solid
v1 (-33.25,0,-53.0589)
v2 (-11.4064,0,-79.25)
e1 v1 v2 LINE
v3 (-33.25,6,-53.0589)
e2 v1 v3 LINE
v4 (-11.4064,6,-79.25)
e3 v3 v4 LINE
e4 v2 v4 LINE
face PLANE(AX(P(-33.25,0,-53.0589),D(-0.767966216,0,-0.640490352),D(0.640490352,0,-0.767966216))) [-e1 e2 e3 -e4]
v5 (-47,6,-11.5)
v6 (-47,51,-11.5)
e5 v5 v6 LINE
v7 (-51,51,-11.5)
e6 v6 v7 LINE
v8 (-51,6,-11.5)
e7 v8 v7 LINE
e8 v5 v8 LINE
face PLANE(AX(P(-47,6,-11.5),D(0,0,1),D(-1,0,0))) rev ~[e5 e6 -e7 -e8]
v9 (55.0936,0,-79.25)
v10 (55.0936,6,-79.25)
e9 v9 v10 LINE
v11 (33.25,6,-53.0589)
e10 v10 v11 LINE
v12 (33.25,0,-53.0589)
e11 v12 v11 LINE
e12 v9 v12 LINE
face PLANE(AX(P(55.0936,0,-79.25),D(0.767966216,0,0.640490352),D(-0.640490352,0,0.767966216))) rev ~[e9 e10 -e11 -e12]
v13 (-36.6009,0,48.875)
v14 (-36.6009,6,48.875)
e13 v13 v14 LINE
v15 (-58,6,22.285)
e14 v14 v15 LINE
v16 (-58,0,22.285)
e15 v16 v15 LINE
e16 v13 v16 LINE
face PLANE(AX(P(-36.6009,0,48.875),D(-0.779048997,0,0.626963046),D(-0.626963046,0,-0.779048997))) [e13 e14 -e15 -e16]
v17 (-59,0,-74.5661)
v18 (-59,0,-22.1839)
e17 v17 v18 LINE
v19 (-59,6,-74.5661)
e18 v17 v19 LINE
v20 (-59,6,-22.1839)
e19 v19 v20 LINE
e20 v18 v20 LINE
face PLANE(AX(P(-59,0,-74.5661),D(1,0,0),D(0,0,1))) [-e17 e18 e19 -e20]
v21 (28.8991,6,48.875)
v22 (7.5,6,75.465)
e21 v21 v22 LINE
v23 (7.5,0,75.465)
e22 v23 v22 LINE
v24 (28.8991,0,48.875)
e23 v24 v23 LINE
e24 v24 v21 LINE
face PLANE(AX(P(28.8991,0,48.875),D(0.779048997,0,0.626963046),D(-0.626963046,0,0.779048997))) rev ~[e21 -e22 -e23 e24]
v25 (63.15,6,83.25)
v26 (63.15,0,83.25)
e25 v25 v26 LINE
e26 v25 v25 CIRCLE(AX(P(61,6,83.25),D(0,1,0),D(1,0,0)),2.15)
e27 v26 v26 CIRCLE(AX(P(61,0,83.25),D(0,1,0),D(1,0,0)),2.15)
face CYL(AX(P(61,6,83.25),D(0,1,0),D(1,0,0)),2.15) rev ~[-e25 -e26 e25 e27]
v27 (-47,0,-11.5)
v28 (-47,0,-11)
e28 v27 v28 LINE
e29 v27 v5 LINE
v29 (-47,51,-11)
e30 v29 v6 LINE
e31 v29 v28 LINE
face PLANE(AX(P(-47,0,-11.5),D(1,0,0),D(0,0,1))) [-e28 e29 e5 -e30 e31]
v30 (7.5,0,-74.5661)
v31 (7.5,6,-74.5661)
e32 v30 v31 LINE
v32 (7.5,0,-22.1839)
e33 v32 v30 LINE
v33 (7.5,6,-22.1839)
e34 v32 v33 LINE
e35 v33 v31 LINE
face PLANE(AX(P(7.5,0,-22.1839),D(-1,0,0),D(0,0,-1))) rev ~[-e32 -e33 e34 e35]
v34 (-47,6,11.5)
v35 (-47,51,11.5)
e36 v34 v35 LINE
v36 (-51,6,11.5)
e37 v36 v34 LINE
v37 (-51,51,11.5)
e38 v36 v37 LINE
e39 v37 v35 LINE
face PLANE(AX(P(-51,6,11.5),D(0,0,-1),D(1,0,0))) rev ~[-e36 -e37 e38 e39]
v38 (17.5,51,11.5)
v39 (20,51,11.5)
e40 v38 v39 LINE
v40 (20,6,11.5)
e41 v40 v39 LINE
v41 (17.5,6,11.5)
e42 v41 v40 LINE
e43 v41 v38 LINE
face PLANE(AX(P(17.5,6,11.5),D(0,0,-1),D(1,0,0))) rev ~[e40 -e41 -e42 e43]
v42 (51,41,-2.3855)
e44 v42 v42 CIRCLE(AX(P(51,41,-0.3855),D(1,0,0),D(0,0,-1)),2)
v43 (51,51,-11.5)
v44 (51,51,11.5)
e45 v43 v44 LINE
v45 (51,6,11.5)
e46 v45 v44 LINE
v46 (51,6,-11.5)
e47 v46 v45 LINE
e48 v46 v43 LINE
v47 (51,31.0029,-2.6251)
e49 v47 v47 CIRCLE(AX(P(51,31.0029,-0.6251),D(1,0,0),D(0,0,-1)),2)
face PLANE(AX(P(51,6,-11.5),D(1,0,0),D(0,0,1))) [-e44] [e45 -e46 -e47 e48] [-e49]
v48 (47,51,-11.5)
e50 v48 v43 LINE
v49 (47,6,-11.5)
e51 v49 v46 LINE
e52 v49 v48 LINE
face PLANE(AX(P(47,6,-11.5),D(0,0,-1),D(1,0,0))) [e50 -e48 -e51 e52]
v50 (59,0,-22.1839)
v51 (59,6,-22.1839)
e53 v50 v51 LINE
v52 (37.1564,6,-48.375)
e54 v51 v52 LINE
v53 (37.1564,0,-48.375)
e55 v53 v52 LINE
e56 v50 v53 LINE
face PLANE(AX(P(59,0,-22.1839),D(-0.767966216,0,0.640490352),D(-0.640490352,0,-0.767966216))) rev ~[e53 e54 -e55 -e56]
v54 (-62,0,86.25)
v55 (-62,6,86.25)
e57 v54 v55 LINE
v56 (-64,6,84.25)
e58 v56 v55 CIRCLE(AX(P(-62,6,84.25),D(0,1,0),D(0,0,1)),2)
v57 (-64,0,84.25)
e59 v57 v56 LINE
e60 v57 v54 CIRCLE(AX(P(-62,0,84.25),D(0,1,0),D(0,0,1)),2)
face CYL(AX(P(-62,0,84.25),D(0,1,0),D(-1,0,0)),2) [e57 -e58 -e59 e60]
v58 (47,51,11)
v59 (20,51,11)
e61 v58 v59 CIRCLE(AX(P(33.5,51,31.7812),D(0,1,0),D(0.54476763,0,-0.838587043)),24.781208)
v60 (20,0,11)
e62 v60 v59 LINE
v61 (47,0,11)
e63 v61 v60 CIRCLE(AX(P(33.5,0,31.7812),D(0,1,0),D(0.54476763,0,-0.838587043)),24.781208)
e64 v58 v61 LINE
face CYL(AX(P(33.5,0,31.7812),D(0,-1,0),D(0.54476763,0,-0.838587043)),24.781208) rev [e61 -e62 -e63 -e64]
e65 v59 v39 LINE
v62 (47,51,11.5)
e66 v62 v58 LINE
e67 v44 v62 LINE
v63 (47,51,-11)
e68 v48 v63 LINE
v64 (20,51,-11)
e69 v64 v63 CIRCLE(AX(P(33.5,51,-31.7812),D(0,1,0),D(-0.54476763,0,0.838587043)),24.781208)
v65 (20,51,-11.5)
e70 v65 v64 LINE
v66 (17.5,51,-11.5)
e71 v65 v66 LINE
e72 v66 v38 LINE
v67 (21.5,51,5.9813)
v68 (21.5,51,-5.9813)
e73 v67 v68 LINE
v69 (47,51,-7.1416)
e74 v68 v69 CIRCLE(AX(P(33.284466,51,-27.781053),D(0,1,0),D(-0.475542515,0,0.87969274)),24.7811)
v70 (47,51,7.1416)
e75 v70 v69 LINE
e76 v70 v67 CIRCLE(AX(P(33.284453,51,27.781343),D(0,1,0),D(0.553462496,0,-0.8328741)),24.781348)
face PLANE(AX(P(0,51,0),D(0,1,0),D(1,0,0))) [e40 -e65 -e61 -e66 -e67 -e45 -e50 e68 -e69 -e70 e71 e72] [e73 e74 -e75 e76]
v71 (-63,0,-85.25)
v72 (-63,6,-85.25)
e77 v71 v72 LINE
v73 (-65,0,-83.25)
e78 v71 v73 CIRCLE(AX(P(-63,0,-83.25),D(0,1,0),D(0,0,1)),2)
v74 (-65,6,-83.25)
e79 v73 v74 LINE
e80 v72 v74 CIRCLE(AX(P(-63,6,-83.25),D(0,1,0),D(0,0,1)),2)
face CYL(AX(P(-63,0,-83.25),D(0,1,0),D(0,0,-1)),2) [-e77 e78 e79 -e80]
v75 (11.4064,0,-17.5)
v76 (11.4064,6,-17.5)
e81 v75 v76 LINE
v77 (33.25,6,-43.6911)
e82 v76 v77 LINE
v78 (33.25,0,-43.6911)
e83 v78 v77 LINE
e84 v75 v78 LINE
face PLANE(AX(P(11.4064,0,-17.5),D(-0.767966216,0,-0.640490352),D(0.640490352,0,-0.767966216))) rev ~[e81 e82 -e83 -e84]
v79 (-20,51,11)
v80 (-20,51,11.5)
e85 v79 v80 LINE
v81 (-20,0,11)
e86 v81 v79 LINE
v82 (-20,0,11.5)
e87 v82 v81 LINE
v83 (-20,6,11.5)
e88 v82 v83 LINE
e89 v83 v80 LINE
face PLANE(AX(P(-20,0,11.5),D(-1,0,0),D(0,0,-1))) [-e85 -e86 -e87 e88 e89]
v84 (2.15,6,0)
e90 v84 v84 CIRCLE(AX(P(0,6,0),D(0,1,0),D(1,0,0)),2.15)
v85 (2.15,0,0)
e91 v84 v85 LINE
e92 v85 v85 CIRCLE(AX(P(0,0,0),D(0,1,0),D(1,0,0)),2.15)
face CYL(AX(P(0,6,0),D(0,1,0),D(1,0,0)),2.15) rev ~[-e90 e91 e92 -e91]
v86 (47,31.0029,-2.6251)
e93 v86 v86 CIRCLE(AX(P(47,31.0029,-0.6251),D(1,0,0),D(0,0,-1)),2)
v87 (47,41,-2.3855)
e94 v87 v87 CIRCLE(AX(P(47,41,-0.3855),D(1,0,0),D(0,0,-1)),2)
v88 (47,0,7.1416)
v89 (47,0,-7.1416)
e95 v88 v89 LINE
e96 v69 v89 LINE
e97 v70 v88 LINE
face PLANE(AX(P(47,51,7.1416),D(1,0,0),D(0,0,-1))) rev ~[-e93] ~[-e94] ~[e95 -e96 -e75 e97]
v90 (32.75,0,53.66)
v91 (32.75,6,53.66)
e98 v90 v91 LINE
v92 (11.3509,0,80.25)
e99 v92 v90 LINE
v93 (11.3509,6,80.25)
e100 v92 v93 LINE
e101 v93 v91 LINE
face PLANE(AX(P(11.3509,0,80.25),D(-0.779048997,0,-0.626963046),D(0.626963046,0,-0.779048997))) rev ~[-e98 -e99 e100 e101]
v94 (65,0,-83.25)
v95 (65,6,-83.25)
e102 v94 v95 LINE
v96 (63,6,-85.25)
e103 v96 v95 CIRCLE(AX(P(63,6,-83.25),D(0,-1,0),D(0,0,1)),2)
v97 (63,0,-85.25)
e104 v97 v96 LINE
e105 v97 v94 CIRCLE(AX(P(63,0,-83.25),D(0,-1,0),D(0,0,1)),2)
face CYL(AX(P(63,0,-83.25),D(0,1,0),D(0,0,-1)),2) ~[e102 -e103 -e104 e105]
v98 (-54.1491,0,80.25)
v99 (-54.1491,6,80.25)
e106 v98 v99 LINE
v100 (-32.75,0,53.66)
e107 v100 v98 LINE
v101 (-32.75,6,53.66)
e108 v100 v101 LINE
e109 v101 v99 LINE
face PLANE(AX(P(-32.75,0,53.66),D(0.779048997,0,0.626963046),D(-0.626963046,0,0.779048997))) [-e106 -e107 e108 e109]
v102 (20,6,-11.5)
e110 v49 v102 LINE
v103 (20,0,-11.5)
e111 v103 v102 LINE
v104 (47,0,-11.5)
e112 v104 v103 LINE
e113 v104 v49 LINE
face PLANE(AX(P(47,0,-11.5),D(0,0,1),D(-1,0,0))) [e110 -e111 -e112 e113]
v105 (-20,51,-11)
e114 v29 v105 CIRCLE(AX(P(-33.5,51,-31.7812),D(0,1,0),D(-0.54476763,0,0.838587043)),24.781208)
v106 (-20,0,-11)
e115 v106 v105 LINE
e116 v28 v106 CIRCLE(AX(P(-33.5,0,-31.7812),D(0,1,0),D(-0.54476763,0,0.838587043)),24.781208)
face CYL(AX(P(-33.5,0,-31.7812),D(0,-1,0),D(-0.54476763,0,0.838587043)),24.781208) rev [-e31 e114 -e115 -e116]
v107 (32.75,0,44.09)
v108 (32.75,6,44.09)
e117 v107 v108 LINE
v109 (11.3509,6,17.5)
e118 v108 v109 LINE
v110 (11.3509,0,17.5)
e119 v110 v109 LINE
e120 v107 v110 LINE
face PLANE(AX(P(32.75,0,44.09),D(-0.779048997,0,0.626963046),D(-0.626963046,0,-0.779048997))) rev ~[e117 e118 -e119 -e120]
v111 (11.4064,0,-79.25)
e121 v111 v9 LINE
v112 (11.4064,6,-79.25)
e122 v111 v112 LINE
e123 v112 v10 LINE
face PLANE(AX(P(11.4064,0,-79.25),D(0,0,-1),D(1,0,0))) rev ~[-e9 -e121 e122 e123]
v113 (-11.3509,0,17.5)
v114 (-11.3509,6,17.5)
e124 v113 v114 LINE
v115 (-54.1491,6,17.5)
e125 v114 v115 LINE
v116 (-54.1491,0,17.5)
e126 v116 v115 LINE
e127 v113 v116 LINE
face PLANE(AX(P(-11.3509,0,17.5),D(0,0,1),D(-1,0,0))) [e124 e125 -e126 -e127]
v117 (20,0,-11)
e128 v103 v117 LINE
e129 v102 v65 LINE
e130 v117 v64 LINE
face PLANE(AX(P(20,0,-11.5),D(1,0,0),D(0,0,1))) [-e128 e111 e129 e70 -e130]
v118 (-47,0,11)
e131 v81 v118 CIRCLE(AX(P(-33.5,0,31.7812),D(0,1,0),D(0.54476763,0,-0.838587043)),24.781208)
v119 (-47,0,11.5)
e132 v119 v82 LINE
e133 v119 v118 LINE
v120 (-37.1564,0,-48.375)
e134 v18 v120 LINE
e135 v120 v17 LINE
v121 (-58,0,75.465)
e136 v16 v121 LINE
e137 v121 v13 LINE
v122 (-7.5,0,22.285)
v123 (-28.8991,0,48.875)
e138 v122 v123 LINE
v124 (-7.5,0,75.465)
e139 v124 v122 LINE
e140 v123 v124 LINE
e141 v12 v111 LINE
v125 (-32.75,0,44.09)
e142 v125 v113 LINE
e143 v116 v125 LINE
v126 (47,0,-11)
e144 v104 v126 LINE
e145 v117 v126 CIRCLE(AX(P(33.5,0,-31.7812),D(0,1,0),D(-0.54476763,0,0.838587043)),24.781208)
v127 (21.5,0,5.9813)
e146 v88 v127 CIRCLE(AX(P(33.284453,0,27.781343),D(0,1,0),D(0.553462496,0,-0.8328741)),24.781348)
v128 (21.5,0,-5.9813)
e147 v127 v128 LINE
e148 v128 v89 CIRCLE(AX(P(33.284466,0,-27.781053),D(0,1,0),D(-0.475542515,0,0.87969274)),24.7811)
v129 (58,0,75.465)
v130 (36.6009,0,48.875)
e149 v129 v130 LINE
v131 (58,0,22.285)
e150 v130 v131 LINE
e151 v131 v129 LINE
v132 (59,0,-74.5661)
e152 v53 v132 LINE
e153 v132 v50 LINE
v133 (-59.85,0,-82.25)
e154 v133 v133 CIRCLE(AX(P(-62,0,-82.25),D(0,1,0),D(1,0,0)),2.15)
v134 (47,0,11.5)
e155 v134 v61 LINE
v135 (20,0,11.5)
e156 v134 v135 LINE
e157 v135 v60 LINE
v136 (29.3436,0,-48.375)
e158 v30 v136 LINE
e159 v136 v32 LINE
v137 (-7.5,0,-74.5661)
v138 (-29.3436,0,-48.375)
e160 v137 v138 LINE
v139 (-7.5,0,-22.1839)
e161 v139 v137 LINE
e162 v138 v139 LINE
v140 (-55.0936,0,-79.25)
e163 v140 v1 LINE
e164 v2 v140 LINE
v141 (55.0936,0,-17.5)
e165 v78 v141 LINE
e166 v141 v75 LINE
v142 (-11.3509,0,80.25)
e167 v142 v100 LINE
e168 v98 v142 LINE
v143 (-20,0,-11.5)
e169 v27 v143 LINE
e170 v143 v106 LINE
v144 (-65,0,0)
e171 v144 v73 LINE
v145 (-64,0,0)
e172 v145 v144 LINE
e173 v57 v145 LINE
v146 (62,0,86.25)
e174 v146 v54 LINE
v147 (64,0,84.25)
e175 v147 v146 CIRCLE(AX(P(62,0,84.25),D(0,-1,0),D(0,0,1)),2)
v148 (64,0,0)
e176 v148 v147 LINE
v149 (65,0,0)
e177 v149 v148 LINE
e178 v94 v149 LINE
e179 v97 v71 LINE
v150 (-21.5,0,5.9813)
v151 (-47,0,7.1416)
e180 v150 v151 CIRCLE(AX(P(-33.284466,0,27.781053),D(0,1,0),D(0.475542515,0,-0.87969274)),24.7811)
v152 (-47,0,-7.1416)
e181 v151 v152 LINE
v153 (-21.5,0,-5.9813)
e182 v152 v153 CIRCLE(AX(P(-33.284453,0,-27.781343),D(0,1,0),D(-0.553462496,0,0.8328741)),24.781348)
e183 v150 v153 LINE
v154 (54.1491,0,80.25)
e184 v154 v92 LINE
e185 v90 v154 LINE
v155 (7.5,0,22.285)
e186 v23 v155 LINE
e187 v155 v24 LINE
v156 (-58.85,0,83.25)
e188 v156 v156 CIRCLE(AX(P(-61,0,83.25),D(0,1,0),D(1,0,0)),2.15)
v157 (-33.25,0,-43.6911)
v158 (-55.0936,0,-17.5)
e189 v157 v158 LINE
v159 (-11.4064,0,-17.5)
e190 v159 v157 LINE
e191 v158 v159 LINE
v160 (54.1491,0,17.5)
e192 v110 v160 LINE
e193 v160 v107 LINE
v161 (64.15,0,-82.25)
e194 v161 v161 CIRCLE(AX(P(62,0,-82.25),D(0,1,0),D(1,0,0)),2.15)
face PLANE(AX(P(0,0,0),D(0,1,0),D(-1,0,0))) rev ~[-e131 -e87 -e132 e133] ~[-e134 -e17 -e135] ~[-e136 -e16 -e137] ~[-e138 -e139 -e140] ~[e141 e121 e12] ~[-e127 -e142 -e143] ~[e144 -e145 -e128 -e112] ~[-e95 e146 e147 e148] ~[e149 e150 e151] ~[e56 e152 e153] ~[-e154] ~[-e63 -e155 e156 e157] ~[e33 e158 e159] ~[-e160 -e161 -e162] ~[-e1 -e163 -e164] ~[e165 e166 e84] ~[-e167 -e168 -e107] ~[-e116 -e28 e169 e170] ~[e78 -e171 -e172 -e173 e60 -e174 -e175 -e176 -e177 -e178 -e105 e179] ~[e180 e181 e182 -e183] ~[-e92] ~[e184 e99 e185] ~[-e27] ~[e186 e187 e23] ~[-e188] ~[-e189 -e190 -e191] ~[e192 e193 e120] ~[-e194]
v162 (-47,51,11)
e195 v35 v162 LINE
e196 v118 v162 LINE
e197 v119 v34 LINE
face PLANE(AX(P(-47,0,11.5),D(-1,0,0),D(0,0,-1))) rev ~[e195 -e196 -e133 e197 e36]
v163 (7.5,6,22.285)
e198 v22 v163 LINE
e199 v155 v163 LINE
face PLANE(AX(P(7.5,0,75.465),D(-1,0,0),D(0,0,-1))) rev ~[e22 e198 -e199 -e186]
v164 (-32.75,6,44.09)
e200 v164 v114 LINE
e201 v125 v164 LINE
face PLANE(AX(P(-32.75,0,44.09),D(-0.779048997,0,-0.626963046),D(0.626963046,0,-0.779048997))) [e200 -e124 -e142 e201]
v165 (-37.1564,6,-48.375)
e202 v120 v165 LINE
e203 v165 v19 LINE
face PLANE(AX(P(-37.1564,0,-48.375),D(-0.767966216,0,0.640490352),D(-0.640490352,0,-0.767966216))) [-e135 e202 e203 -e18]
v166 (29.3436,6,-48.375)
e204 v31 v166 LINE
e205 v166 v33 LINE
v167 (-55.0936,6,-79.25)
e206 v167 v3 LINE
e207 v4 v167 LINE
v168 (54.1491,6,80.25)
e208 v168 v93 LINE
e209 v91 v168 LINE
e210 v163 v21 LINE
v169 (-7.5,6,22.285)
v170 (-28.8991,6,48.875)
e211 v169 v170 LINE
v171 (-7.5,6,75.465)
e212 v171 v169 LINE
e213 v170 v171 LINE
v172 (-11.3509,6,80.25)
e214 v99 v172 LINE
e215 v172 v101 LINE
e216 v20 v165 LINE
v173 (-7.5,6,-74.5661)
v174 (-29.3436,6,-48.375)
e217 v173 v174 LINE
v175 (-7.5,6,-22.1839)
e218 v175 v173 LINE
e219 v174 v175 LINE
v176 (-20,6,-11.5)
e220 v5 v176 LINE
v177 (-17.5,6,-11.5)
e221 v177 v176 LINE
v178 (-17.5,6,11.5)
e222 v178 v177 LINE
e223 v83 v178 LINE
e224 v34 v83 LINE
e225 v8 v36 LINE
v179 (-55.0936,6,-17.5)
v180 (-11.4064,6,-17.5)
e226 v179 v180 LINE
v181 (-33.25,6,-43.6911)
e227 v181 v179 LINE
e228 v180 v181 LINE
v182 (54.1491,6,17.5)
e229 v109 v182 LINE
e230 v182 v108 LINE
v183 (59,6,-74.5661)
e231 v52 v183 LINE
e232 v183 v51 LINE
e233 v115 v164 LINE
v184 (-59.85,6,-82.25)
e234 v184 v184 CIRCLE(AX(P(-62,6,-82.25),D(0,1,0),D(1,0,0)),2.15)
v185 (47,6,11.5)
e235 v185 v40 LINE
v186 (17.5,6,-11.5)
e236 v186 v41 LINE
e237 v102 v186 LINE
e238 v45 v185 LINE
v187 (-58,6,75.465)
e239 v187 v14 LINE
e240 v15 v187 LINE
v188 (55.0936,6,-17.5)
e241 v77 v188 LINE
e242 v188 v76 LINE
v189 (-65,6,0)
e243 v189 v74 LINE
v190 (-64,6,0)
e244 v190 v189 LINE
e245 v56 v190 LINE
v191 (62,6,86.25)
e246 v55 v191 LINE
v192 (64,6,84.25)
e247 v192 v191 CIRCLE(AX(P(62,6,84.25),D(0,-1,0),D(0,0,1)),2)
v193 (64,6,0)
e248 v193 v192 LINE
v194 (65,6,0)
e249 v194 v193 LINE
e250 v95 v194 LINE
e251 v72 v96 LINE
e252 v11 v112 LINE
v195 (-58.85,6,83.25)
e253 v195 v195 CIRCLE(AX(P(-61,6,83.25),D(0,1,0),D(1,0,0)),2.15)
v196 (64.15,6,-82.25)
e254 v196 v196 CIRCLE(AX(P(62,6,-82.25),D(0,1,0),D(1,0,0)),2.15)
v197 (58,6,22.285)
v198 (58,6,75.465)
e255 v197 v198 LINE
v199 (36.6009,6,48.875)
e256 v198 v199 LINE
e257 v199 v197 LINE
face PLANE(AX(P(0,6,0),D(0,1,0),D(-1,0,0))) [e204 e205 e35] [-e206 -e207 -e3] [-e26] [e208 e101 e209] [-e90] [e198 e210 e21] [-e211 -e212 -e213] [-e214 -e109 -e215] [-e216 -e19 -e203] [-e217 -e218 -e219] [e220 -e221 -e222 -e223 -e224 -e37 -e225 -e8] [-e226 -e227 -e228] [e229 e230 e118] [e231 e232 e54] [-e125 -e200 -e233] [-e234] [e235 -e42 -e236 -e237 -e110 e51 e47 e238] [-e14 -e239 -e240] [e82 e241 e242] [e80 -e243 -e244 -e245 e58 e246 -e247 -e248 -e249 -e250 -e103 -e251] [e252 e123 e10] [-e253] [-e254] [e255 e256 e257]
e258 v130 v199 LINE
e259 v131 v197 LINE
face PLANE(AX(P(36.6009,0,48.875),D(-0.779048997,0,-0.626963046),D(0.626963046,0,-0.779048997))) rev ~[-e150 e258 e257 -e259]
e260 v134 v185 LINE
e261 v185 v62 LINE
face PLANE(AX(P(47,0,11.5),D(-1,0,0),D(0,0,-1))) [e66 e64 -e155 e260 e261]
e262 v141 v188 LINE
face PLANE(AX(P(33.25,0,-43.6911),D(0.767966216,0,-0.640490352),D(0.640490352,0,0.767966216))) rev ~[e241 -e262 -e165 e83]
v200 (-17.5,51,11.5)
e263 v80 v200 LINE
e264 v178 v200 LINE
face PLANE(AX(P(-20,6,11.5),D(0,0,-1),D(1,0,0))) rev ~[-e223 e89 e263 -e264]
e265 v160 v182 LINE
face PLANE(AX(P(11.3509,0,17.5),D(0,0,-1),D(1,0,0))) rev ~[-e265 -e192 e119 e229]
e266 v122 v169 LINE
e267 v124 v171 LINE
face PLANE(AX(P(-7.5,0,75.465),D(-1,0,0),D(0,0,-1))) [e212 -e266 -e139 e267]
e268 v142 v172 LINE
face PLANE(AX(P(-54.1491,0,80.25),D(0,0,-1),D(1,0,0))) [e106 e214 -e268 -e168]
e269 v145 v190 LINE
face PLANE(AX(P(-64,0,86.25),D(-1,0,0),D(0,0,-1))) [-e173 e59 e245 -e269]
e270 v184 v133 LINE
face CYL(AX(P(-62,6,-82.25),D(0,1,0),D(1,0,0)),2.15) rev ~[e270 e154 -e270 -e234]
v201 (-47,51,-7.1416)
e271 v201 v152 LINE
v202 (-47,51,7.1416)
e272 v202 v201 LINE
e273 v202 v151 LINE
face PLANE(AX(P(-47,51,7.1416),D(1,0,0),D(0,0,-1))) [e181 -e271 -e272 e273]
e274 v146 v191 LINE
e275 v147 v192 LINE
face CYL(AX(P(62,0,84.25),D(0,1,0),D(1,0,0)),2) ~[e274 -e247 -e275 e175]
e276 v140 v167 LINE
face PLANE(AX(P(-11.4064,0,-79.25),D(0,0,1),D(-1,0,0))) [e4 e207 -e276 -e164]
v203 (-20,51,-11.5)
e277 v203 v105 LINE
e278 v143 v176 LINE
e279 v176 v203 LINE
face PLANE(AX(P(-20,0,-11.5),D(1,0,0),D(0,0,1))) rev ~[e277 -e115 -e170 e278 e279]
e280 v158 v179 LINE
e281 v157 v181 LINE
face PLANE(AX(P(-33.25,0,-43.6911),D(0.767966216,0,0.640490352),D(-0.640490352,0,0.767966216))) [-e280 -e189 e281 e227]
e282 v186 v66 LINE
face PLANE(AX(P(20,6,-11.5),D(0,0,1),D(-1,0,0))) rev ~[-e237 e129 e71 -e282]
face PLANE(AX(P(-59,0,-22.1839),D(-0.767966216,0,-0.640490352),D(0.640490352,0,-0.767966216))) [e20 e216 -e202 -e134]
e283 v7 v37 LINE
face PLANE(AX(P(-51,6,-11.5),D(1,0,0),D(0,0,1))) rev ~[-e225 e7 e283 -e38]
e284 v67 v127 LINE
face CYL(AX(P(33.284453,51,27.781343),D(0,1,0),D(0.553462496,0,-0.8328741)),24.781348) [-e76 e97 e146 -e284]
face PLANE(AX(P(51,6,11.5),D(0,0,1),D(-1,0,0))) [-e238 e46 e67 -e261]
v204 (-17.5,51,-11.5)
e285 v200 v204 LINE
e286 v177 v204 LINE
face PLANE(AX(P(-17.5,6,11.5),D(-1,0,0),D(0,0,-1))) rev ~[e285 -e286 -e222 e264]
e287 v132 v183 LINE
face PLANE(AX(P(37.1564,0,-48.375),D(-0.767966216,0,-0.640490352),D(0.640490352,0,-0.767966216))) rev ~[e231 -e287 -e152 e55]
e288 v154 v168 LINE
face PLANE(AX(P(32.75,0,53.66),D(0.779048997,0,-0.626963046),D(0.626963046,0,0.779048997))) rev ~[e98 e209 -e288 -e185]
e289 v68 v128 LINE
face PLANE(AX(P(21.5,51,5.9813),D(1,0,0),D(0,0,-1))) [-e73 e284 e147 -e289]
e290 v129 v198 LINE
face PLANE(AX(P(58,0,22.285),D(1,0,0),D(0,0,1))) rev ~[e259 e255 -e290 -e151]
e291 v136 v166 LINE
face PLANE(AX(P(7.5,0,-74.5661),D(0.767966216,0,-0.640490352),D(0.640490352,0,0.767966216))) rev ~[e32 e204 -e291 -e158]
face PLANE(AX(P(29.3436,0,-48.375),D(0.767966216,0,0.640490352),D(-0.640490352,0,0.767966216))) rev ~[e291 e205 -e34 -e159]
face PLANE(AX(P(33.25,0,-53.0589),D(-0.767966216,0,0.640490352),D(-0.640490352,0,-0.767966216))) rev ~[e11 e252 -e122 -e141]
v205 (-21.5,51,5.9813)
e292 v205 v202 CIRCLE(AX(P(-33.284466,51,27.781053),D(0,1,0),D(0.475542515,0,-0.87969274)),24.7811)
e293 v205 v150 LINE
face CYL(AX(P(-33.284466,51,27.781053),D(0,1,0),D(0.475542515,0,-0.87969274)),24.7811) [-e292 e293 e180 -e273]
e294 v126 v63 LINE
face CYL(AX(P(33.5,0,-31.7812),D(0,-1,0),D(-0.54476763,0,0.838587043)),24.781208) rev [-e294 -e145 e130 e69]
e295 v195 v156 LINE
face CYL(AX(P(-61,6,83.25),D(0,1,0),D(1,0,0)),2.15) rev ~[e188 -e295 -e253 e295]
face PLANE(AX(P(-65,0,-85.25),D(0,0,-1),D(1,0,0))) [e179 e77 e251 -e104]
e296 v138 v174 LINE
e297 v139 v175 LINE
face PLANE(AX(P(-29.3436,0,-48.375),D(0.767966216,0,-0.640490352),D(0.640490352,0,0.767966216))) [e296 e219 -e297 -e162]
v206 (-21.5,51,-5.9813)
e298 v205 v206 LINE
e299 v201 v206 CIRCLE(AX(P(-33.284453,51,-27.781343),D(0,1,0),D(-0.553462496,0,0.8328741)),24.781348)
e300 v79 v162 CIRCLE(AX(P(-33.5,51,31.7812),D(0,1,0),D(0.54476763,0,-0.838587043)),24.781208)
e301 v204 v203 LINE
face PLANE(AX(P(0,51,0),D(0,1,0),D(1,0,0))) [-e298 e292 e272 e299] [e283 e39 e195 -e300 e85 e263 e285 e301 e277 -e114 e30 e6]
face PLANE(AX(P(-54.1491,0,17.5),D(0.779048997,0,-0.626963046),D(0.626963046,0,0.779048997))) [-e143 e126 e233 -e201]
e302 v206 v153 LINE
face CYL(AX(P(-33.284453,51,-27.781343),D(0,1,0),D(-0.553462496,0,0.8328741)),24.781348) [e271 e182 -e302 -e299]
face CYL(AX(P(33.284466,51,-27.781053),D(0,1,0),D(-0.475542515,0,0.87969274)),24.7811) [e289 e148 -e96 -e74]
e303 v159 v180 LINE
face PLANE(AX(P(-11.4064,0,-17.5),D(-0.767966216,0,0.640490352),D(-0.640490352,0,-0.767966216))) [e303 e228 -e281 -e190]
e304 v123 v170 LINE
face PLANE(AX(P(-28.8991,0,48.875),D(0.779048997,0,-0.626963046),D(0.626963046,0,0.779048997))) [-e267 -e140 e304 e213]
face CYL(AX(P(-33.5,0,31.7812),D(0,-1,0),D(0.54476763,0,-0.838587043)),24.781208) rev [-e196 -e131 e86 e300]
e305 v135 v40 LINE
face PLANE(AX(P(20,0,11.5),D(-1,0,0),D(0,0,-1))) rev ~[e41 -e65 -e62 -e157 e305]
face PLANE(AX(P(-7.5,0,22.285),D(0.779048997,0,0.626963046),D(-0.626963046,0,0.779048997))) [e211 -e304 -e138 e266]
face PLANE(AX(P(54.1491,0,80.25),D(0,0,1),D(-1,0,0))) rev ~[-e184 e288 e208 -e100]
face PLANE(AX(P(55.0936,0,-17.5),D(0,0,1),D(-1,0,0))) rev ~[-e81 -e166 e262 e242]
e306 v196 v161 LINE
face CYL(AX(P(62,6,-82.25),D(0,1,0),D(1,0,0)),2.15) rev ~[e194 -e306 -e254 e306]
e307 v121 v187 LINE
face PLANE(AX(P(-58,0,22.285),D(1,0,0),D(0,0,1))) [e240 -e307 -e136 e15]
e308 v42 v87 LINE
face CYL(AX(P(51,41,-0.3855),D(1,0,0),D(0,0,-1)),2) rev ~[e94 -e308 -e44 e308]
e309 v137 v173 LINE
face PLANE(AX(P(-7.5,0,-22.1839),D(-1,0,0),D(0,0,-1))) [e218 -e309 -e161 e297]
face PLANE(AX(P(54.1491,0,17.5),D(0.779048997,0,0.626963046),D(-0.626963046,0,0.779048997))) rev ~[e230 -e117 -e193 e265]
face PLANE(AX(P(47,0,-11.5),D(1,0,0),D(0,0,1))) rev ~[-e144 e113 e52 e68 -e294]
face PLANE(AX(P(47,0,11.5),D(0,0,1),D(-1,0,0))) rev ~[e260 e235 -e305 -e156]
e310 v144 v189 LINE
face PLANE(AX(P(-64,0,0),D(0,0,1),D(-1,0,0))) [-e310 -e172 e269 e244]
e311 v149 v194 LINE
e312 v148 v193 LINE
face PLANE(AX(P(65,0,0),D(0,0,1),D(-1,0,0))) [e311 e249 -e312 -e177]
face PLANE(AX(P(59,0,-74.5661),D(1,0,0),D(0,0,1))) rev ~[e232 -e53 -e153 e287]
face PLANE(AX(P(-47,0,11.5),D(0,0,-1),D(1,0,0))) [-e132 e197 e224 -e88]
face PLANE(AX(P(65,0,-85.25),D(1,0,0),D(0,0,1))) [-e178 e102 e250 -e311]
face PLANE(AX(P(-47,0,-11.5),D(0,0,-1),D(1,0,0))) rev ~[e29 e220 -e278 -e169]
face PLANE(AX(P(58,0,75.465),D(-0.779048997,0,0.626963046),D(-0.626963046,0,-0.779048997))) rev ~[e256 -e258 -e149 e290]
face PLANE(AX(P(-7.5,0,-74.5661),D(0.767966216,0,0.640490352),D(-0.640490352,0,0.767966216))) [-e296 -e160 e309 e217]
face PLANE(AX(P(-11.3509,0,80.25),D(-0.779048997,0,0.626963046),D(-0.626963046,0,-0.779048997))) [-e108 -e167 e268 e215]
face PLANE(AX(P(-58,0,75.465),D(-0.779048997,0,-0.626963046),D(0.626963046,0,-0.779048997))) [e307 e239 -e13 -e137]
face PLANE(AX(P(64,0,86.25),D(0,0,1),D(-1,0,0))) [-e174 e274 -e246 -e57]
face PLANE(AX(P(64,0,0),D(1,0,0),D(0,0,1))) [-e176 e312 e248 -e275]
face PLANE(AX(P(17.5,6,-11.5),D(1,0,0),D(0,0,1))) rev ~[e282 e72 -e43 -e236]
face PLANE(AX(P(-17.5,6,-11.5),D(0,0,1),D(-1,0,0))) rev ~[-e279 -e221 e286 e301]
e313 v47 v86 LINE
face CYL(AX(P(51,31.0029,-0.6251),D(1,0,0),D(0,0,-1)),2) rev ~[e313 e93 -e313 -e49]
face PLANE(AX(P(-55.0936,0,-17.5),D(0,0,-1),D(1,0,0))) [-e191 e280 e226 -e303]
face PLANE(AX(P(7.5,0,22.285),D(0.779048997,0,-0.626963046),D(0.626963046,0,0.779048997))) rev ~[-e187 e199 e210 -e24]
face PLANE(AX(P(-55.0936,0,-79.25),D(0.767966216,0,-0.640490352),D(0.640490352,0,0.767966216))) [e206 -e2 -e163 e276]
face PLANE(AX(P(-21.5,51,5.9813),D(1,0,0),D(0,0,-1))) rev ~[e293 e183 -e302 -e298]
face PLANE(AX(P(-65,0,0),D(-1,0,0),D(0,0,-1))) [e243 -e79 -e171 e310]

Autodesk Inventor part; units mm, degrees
ref_plane "YZ Plane" through (0, 0, 0) normal (1, 0, 0) x (0, 1, 0)
ref_plane "XZ Plane" through (0, 0, 0) normal (0, 1, 0) x (-1, 0, 0)
sketch "Main Body Sketch" plane through (0, 0, 0) normal (0, 1, 0) x (-1, 0, 0)
  line L0 (162.9728, 0) -> (-170.7717, 0) construction
  line L1 (0, -112.4599) -> (0, 110.3364) construction
  line L2 (65, -85.25) -> (-65, -85.25)
  line L3 (-65, -85.25) -> (-65, 0)
  line L4 (-65, 0) -> (65, 0)
  line L5 (65, 0) -> (65, -85.25)
  line L6 (64, 0) -> (-64, 0)
  line L7 (-64, 0) -> (-64, 86.25)
  line L8 (-64, 86.25) -> (64, 86.25)
  line L9 (64, 86.25) -> (64, 0)
  line L10 (7.5, -85.25) -> (-7.5, -85.25)
  line L11 (-7.5, -85.25) -> (-7.5, 86.25) construction
  line L12 (-7.5, 86.25) -> (7.5, 86.25)
  line L13 (7.5, 86.25) -> (7.5, -85.25) construction
  line L14 (65, -11.5) -> (-65, -11.5) construction
  line L15 (-65, -11.5) -> (-65, 0) construction
  line L16 (-65, 0) -> (65, 0) construction
  line L17 (65, 0) -> (65, -11.5) construction
  line L18 (64, 0) -> (-64, 0)
  line L19 (-64, 0) -> (-64, 11.5) construction
  line L20 (-64, 11.5) -> (64, 11.5) construction
  line L21 (64, 11.5) -> (64, 0) construction
  line L22 (59, -79.25) -> (7.5, -79.25) construction
  line L23 (7.5, -79.25) -> (7.5, -17.5) construction
  line L24 (7.5, -17.5) -> (59, -17.5) construction
  line L25 (59, -17.5) -> (59, -79.25) construction
  line L26 (-7.5, -79.25) -> (-59, -79.25) construction
  line L27 (-59, -79.25) -> (-59, -17.5) construction
  line L28 (-59, -17.5) -> (-7.5, -17.5) construction
  line L29 (-7.5, -17.5) -> (-7.5, -79.25) construction
  line L30 (58, 17.5) -> (7.5, 17.5) construction
  line L31 (7.5, 17.5) -> (7.5, 80.25) construction
  line L32 (7.5, 80.25) -> (58, 80.25) construction
  line L33 (58, 80.25) -> (58, 17.5) construction
  line L34 (-7.5, 17.5) -> (-58, 17.5) construction
  line L35 (-58, 17.5) -> (-58, 80.25) construction
  line L36 (-58, 80.25) -> (-7.5, 80.25) construction
  line L37 (-7.5, 80.25) -> (-7.5, 17.5) construction
  line L38 (59, -79.25) -> (7.5, -17.5) construction
  line L39 (7.5, -79.25) -> (59, -17.5) construction
  line L40 (58, 17.5) -> (7.5, 80.25) construction
  line L41 (7.5, 17.5) -> (58, 80.25) construction
  line L42 (55.6629, 15.6191) -> (60.3371, 19.3809) construction
  line L43 (60.3371, 19.3809) -> (9.8371, 82.1309) construction
  line L44 (9.8371, 82.1309) -> (5.1629, 78.3691) construction
  line L45 (5.1629, 78.3691) -> (55.6629, 15.6191) construction
  line L46 (61.3039, -77.3285) -> (56.6961, -81.1715) construction
  line L47 (56.6961, -81.1715) -> (5.1961, -19.4215) construction
  line L48 (5.1961, -19.4215) -> (9.8039, -15.5785) construction
  line L49 (9.8039, -15.5785) -> (61.3039, -77.3285) construction
  line L50 (9.8039, -81.1715) -> (5.1961, -77.3285) construction
  line L51 (5.1961, -77.3285) -> (56.6961, -15.5785) construction
  line L52 (56.6961, -15.5785) -> (61.3039, -19.4215) construction
  line L53 (61.3039, -19.4215) -> (9.8039, -81.1715) construction
  line L54 (9.8371, 15.6191) -> (5.1629, 19.3809) construction
  line L55 (5.1629, 19.3809) -> (55.6629, 82.1309) construction
  line L56 (55.6629, 82.1309) -> (60.3371, 78.3691) construction
  line L57 (60.3371, 78.3691) -> (9.8371, 15.6191) construction
  line L58 (33.25, -43.6911) -> (55.0936, -17.5)
  line L59 (55.0936, -17.5) -> (11.4064, -17.5)
  line L60 (11.4064, -17.5) -> (33.25, -43.6911)
  line L61 (54.1491, 17.5) -> (32.75, 44.09)
  line L62 (32.75, 44.09) -> (11.3509, 17.5)
  line L63 (11.3509, 17.5) -> (54.1491, 17.5)
  line L64 (58, 22.285) -> (58, 75.465)
  line L65 (58, 75.465) -> (36.6009, 48.875)
  line L66 (36.6009, 48.875) -> (58, 22.285)
  line L67 (32.75, 53.66) -> (54.1491, 80.25)
  line L68 (54.1491, 80.25) -> (11.3509, 80.25)
  line L69 (11.3509, 80.25) -> (32.75, 53.66)
  line L70 (7.5, 22.285) -> (28.8991, 48.875)
  line L71 (28.8991, 48.875) -> (7.5, 75.465)
  line L72 (7.5, 75.465) -> (7.5, 22.285)
  line L73 (59, -74.5661) -> (59, -22.1839)
  line L74 (59, -22.1839) -> (37.1564, -48.375)
  line L75 (37.1564, -48.375) -> (59, -74.5661)
  line L76 (55.0936, -79.25) -> (33.25, -53.0589)
  line L77 (33.25, -53.0589) -> (11.4064, -79.25)
  line L78 (11.4064, -79.25) -> (55.0936, -79.25)
  line L79 (7.5, -74.5661) -> (29.3436, -48.375)
  line L80 (29.3436, -48.375) -> (7.5, -22.1839)
  line L81 (7.5, -22.1839) -> (7.5, -74.5661)
  line L82 (-59, -79.25) -> (-7.5, -79.25) construction
  line L83 (-7.5, -79.25) -> (-7.5, -17.5) construction
  line L84 (-7.5, -17.5) -> (-59, -17.5) construction
  line L85 (-59, -17.5) -> (-59, -79.25) construction
  line L86 (-59, -79.25) -> (-7.5, -17.5) construction
  line L87 (-7.5, -79.25) -> (-59, -17.5) construction
  line L88 (-61.3039, -77.3285) -> (-56.6961, -81.1715) construction
  line L89 (-56.6961, -81.1715) -> (-5.1961, -19.4215) construction
  line L90 (-5.1961, -19.4215) -> (-9.8039, -15.5785) construction
  line L91 (-9.8039, -15.5785) -> (-61.3039, -77.3285) construction
  line L92 (-9.8039, -81.1715) -> (-5.1961, -77.3285) construction
  line L93 (-5.1961, -77.3285) -> (-56.6961, -15.5785) construction
  line L94 (-56.6961, -15.5785) -> (-61.3039, -19.4215) construction
  line L95 (-61.3039, -19.4215) -> (-9.8039, -81.1715) construction
  line L96 (-33.25, -43.6911) -> (-55.0936, -17.5)
  line L97 (-55.0936, -17.5) -> (-11.4064, -17.5)
  line L98 (-11.4064, -17.5) -> (-33.25, -43.6911)
  line L99 (-59, -74.5661) -> (-59, -22.1839)
  line L100 (-59, -22.1839) -> (-37.1564, -48.375)
  line L101 (-37.1564, -48.375) -> (-59, -74.5661)
  line L102 (-55.0936, -79.25) -> (-33.25, -53.0589)
  line L103 (-33.25, -53.0589) -> (-11.4064, -79.25)
  line L104 (-11.4064, -79.25) -> (-55.0936, -79.25)
  line L105 (-7.5, -74.5661) -> (-29.3436, -48.375)
  line L106 (-29.3436, -48.375) -> (-7.5, -22.1839)
  line L107 (-7.5, -22.1839) -> (-7.5, -74.5661)
  line L108 (-58, 17.5) -> (-7.5, 17.5) construction
  line L109 (-7.5, 17.5) -> (-7.5, 80.25) construction
  line L110 (-7.5, 80.25) -> (-58, 80.25) construction
  line L111 (-58, 80.25) -> (-58, 17.5) construction
  line L112 (-58, 17.5) -> (-7.5, 80.25) construction
  line L113 (-7.5, 17.5) -> (-58, 80.25) construction
  line L114 (-55.6629, 15.6191) -> (-60.3371, 19.3809) construction
  line L115 (-60.3371, 19.3809) -> (-9.8371, 82.1309) construction
  line L116 (-9.8371, 82.1309) -> (-5.1629, 78.3691) construction
  line L117 (-5.1629, 78.3691) -> (-55.6629, 15.6191) construction
  line L118 (-9.8371, 15.6191) -> (-5.1629, 19.3809) construction
  line L119 (-5.1629, 19.3809) -> (-55.6629, 82.1309) construction
  line L120 (-55.6629, 82.1309) -> (-60.3371, 78.3691) construction
  line L121 (-60.3371, 78.3691) -> (-9.8371, 15.6191) construction
  line L122 (-54.1491, 17.5) -> (-32.75, 44.09)
  line L123 (-32.75, 44.09) -> (-11.3509, 17.5)
  line L124 (-11.3509, 17.5) -> (-54.1491, 17.5)
  line L125 (-58, 22.285) -> (-58, 75.465)
  line L126 (-58, 75.465) -> (-36.6009, 48.875)
  line L127 (-36.6009, 48.875) -> (-58, 22.285)
  line L128 (-32.75, 53.66) -> (-54.1491, 80.25)
  line L129 (-54.1491, 80.25) -> (-11.3509, 80.25)
  line L130 (-11.3509, 80.25) -> (-32.75, 53.66)
  line L131 (-7.5, 22.285) -> (-28.8991, 48.875)
  line L132 (-28.8991, 48.875) -> (-7.5, 75.465)
  line L133 (-7.5, 75.465) -> (-7.5, 22.285)
  line L134 (71.3038, -11) -> (3.6263, -11) construction
  line L135 (71.3038, -7) -> (3.6263, -7) construction
  line L136 (47, -13.6904) -> (47, -1.8887) construction
  line L137 (20, -13.6904) -> (20, -1.8887) construction
  line L138 (47, -11.5) -> (20, -11.5)
  line L139 (20, -11.5) -> (20, -11)
  line L140 (47, -11.5) -> (47, -11)
  line L141 (33.5, -14.616) -> (33.5, -1.8887) construction
  arc A0 (47, -11) -> (20, -11) centre (33.5, -31.7812) ccw
  line L142 (-47, -13.6904) -> (-47, -1.8887) construction
  line L143 (-20, -13.6904) -> (-20, -1.8887) construction
  line L144 (-47, -11.5) -> (-20, -11.5)
  line L145 (-20, -11.5) -> (-20, -11)
  line L146 (-47, -11.5) -> (-47, -11)
  arc A1 (-20, -11) -> (-47, -11) centre (-33.5, -31.7812) ccw
  line L147 (47, 13.6904) -> (47, 1.8887) construction
  line L148 (20, 13.6904) -> (20, 1.8887) construction
  line L149 (47, 11.5) -> (20, 11.5)
  line L150 (20, 11.5) -> (20, 11)
  line L151 (47, 11.5) -> (47, 11)
  line L152 (33.5, 14.616) -> (33.5, 1.8887) construction
  arc A2 (20, 11) -> (47, 11) centre (33.5, 31.7812) ccw
  line L153 (-47, 11.5) -> (-20, 11.5)
  line L154 (-47, 11.5) -> (-47, 11)
  line L155 (-20, 11.5) -> (-20, 11)
  arc A3 (-47, 11) -> (-20, 11) centre (-33.5, 31.7812) ccw
  line L156 (-47, 13.6904) -> (-47, 1.8887) construction
  line L157 (-20, 13.6904) -> (-20, 1.8887) construction
  point P0 (-33.5, -1.8887)
  point P1 (3.6263, 11)
  point P2 (3.6263, 7)
  point P3 (-33.5, 1.8887)
  dimension "d19" = 130
  dimension "d20" = 128
  dimension "d21" = 86.25
  dimension "d22" = 85.25
  dimension "d23" = 65
  dimension "d24" = 64
  dimension "d25" = 15
  dimension "d26" = 7.5
  dimension "d27" = 11.5
  dimension "d28" = 11.5
  dimension "d29" = 6
  dimension "d30" = 6
  dimension "d31" = 6
  dimension "d32" = 6
  dimension "d33" = 6
  dimension "d34" = 6
  dimension "d35" = 6
  dimension "d36" = 6
  dimension "d37" = 6
  dimension "d38" = 6
  dimension "d39" = 6
  dimension "d40" = 6
  dimension "d41" = 6
  dimension "d42" = 6
  dimension "d43" = 6
  dimension "d44" = 6
  dimension "d45" = 0.5
  dimension "d46" = 4
  dimension "d47" = 27
  dimension "d48" = 20
  dimension "d49" = 27
  dimension "d50" = 40
extrude "Main Body Extrusion" add sketch "Main Body Sketch" along normal blind 6
sketch "TMS ROLL OUT" plane through (0, 6, 0) normal (0, 1, 0) x (1, 0, 0)
  line L0 (-47, 11) -> (-47, 11.5)
  line L1 (-20, 11.5) -> (-20, 11) projected
  line L2 (-20, 11.5) -> (-20, 11)
  arc A0 (-47, 11) -> (-20, 11) centre (-33.5, 31.7812) ccw
  line L3 (20, 11.5) -> (20, 11) projected
  line L4 (20, 11) -> (20, 11.5)
  line L5 (47, 11.5) -> (47, 11) projected
  line L6 (47, 11.5) -> (47, 11)
  arc A1 (20, 11) -> (47, 11) centre (33.5, 31.7812) ccw
  arc A2 (47, -11) -> (20, -11) centre (33.5, -31.7812) ccw projected
  line L7 (20, -11) -> (20, -11.5)
  line L8 (47, -11.5) -> (47, -11) projected
  line L9 (47, -11.5) -> (47, -11)
  arc A3 (47, -11) -> (20, -11) centre (33.5, -31.7812) ccw
  line L10 (-47, -11.5) -> (-47, -11) projected
  line L11 (-47, -11) -> (-47, -11.5)
  line L12 (-20, -11) -> (-20, -11.5) projected
  line L13 (-20, -11.5) -> (-20, -11)
  arc A4 (-20, -11) -> (-47, -11) centre (-33.5, -31.7812) ccw
  line L14 (-47, 11.5) -> (-51, 11.5)
  line L15 (-51, 11.5) -> (-51, -11.5)
  line L16 (-51, -11.5) -> (-47, -11.5)
  line L17 (-47, 11.5) -> (-20, 11.5) construction
  line L18 (-20, -11.5) -> (-47, -11.5) construction
  line L19 (-17.5, 11.5) -> (-20, 11.5)
  line L20 (-20, -11.5) -> (-17.5, -11.5)
  line L21 (-17.5, -11.5) -> (-17.5, 11.5)
  line L22 (20, 11.5) -> (17.5, 11.5)
  line L23 (17.5, 11.5) -> (17.5, -11.5)
  line L24 (17.5, -11.5) -> (20, -11.5)
  line L25 (47, 11.5) -> (51, 11.5)
  line L26 (51, 11.5) -> (51, -11.5)
  line L27 (51, -11.5) -> (47, -11.5)
  line L28 (20, 11.5) -> (47, 11.5) construction
  line L29 (47, -11.5) -> (20, -11.5) construction
  point P0 (0, 0)
  dimension "d53" = 24.7812
  dimension "d54" = 24.7812
  dimension "d55" = 24.7812
  dimension "d56" = 24.7812
  dimension "d57" = 4
  dimension "d60" = 4
  dimension "d90" = 35
extrude "TM Roll Out" add sketch "TMS ROLL OUT" along normal blind 45
sketch "Sketch3" plane through (0, 51, 0) normal (0, 1, 0) x (1, 0, 0)
  line L0 (47, -15.7755) -> (47, 16.2908) construction
  line L1 (47, -11) -> (47, -11.5) projected
  line L2 (20, -14.3518) -> (20, 15.2061) construction
  line L3 (20, -11.5) -> (20, -11) projected
  line L4 (47, 11.5) -> (47, 11) construction
  line L5 (20, 11) -> (20, 11.5) construction
  arc A0 (47, -7.1416) -> (21.5, -5.9813) centre (33.2845, -27.7812) ccw
  arc A1 (47, -11) -> (20, -11) centre (33.5, -31.7812) ccw projected
  line L6 (67.0772, 0) -> (9.1406, 0) construction
  arc A2 (21.5, 5.9813) -> (47, 7.1416) centre (33.2845, 27.7812) ccw
  line L7 (47, -7.1416) -> (47, 7.1416)
  line L8 (21.5, -5.9813) -> (21.5, 5.9813)
  line L9 (51, -11.5) -> (51, 11.5) projected
  line L10 (17.5, 11.5) -> (17.5, -11.5) projected
  line L11 (0, -27.7812) -> (0, 31.8855) construction
  line L12 (-47, -11) -> (-47, -11.5)
  line L13 (-20, -11.5) -> (-20, -11)
  line L14 (-47, 11.5) -> (-47, 11) construction
  line L15 (-20, 11) -> (-20, 11.5) construction
  arc A3 (-21.5, -5.9813) -> (-47, -7.1416) centre (-33.2845, -27.7812) ccw
  arc A4 (-20, -11) -> (-47, -11) centre (-33.5, -31.7812) ccw
  arc A5 (-47, 7.1416) -> (-21.5, 5.9813) centre (-33.2845, 27.7812) ccw
  line L16 (-47, -7.1416) -> (-47, 7.1416)
  line L17 (-21.5, -5.9813) -> (-21.5, 5.9813)
  line L18 (-51, -11.5) -> (-51, 11.5)
  line L19 (-17.5, 11.5) -> (-17.5, -11.5)
  point P0 (0, 0)
  point P1 (-47, -15.7755)
  point P2 (-20, -14.3518)
  dimension "d65" = 24.7812
  dimension "d66" = 4
  dimension "d67" = 4
  dimension "d68" = 4
extrude "Center Swissing" cut sketch "Sketch3" against normal up to surface (51 mm away)
sketch "Sketch4" plane through (0, 6, 0) normal (0, 1, 0) x (1, 0, 0)
  line L0 (-65, 85.25) -> (-59, 85.25) construction
  line L1 (-59, 85.25) -> (-59, 79.25) construction
  line L2 (-59, 79.25) -> (-65, 79.25) construction
  line L3 (-65, 79.25) -> (-65, 85.25) construction
  line L4 (65, 85.25) -> (-65, 85.25) construction
  line L5 (-65, 85.25) -> (-65, 0) construction
  line L6 (-59, 22.1839) -> (-59, 74.5661) construction
  line L7 (-55.0936, 79.25) -> (-11.4064, 79.25) construction
  circle A0 centre (-62, 82.25) radius 2.15
  line L8 (-62, 82.25) -> (-62, 85.25) construction
  line L9 (-65, 85.25) -> (65, 85.25) construction
  line L10 (-62, 82.25) -> (-62, 79.25) construction
  line L11 (-62, 82.25) -> (-59, 82.25) construction
  line L12 (-62, 82.25) -> (-65, 82.25) construction
  line L13 (-65, 0) -> (-65, 85.25) construction
  line L14 (0, 94.5272) -> (0, -100.1402) construction
  line L15 (65, 85.25) -> (59, 85.25) construction
  line L16 (59, 85.25) -> (59, 79.25) construction
  line L17 (59, 79.25) -> (65, 79.25) construction
  line L18 (65, 79.25) -> (65, 85.25) construction
  circle A1 centre (62, 82.25) radius 2.15
  line L19 (62, 82.25) -> (62, 85.25) construction
  line L20 (62, 82.25) -> (62, 79.25) construction
  line L21 (62, 82.25) -> (59, 82.25) construction
  line L22 (62, 82.25) -> (65, 82.25) construction
  line L23 (-64, -86.25) -> (-58, -86.25) construction
  line L24 (-58, -86.25) -> (-58, -80.25) construction
  line L25 (-58, -80.25) -> (-64, -80.25) construction
  line L26 (-64, -80.25) -> (-64, -86.25) construction
  line L27 (-11.3509, -80.25) -> (-54.1491, -80.25) construction
  line L28 (-58, -75.465) -> (-58, -22.285) construction
  line L29 (-64, -86.25) -> (64, -86.25) construction
  line L30 (-64, 0) -> (-64, -86.25) construction
  circle A2 centre (-61, -83.25) radius 2.15
  line L31 (-61, -83.25) -> (-61, -80.25) construction
  line L32 (-61, -83.25) -> (-61, -86.25) construction
  line L33 (64, -86.25) -> (-64, -86.25) construction
  line L34 (-61, -83.25) -> (-64, -83.25) construction
  line L35 (-61, -83.25) -> (-58, -83.25) construction
  line L36 (64, -86.25) -> (58, -86.25) construction
  line L37 (58, -86.25) -> (58, -80.25) construction
  line L38 (58, -80.25) -> (64, -80.25) construction
  line L39 (64, -80.25) -> (64, -86.25) construction
  circle A3 centre (61, -83.25) radius 2.15
  line L40 (61, -83.25) -> (61, -80.25) construction
  line L41 (61, -83.25) -> (61, -86.25) construction
  line L42 (61, -83.25) -> (64, -83.25) construction
  line L43 (61, -83.25) -> (58, -83.25) construction
  circle A4 centre (0, 0) radius 2.15
  dimension "d71" = 4.3
  dimension "d72" = 4.3
  dimension "d73" = 4.3
extrude "Screw Holes Cut" cut sketch "Sketch4" against normal up to surface (6 mm away)
fillet "Fillet2" radius 2 4 edges at (-64, 3, 86.25) (-65, 3, -85.25) (65, 3, -85.25) (64, 3, 86.25)
ref_plane "Work Plane1" through (51, 6, 9.5) normal (1, 0, 0) x (0, 0, -1)
sketch "Sketch5" plane through (51, 6, 9.5) normal (1, 0, 0) x (0, 0, -1)
  circle A0 centre (9.8855, 35) radius 2
  circle A1 centre (10.1251, 25.0029) radius 2
  line L0 (-2, 45) -> (21, 45) projected
  line L1 (10.1251, 25.0029) -> (-0.2499, 25.0029) construction
  line L2 (9.8855, 35) -> (-0.7289, 35) construction
  line L3 (9.8855, 35) -> (20.5, 35) construction
  line L4 (20.5, -6) -> (20.5, 45) construction
  line L5 (10.1251, 25.0029) -> (20.5, 25.0029) construction
  dimension "d78" = 4
  dimension "d79" = 4
  dimension "d88" = 10
  dimension "d91" = 10
extrude "Side Screw holes" cut sketch "Sketch5" against normal up to surface (4 mm away)
ref_plane "Work Plane2" through (17, 6, 11.5) normal (1, 0, 0) x (0, 0, -1)
equation "\"d19\" = TM1THL"
equation "\"d20\" = TM2THL"
equation "\"d21\" = TM2TVL"
equation "\"d22\" = TM1TVL"
equation "\"d23\" = 0.5 * TM1THL"
equation "\"d24\" = 0.5 * TM2THL"
equation "\"d25\" = HS"
equation "\"d26\" = 0.5 * HS"
equation "\"d27\" = 0.5 * ArcBH"
equation "\"d28\" = 0.5 * ArcBH"
equation "\"d29\" = uw"
equation "\"d30\" = uw"
equation "\"d31\" = uw"
equation "\"d32\" = uw"
equation "\"d33\" = uw"
equation "\"d34\" = uw"
equation "\"d35\" = uw"
equation "\"d36\" = uw"
equation "\"d37\" = uw"
equation "\"d38\" = uw"
equation "\"d39\" = uw"
equation "\"d40\" = uw"
equation "\"d41\" = uw"
equation "\"d42\" = uw"
equation "\"d43\" = uw"
equation "\"d44\" = uw"
equation "\"d45\" = ArcEH"
equation "\"d46\" = ArcH"
equation "\"d47\" = ArcW"
equation "\"d48\" = 0.5 * ArcDB"
equation "\"d49\" = ArcW"
equation "\"d51\" = uw"
equation "\"d53\" = ArcR"
equation "\"d54\" = ArcR"
equation "\"d55\" = ArcR"
equation "\"d56\" = ArcR"
equation "\"d57\" = AW"
equation "\"d60\" = AW"
equation "\"d63\" = TMROL"
equation "\"d65\" = ArcR"
equation "\"d71\" = sut"
equation "\"d72\" = sut"
equation "\"d73\" = sut"
equation "\"d78\" = sh"
equation "\"d79\" = sh"
equation "\"d88\" = BSHH"
equation "\"AW\" = 4"
equation "\"WD\" = 50"
equation "\"WW\" = 20"
equation "\"sut\" = 4.3"
equation "\"sh\" = 4"
equation "\"BSHH\" = 10"
equation "\"CHexW\" = 34.5"
equation "\"TM1THL\" = 130"
equation "\"TM2THL\" = 128"
equation "\"TM2TVL\" = 86.25"
equation "\"TM1TVL\" = 85.25"
equation "\"HS\" = 15"
equation "\"ArcBH\" = 23"
equation "\"uw\" = 6"
equation "\"ArcEH\" = 0.5"
equation "\"ArcH\" = 4"
equation "\"ArcW\" = 27"
equation "\"ArcDB\" = 40"
equation "\"ArcR\" = 24.78125"
equation "\"TMROL\" = 45"
properties part number "4 Tape Measure Holder 2 Lid"
